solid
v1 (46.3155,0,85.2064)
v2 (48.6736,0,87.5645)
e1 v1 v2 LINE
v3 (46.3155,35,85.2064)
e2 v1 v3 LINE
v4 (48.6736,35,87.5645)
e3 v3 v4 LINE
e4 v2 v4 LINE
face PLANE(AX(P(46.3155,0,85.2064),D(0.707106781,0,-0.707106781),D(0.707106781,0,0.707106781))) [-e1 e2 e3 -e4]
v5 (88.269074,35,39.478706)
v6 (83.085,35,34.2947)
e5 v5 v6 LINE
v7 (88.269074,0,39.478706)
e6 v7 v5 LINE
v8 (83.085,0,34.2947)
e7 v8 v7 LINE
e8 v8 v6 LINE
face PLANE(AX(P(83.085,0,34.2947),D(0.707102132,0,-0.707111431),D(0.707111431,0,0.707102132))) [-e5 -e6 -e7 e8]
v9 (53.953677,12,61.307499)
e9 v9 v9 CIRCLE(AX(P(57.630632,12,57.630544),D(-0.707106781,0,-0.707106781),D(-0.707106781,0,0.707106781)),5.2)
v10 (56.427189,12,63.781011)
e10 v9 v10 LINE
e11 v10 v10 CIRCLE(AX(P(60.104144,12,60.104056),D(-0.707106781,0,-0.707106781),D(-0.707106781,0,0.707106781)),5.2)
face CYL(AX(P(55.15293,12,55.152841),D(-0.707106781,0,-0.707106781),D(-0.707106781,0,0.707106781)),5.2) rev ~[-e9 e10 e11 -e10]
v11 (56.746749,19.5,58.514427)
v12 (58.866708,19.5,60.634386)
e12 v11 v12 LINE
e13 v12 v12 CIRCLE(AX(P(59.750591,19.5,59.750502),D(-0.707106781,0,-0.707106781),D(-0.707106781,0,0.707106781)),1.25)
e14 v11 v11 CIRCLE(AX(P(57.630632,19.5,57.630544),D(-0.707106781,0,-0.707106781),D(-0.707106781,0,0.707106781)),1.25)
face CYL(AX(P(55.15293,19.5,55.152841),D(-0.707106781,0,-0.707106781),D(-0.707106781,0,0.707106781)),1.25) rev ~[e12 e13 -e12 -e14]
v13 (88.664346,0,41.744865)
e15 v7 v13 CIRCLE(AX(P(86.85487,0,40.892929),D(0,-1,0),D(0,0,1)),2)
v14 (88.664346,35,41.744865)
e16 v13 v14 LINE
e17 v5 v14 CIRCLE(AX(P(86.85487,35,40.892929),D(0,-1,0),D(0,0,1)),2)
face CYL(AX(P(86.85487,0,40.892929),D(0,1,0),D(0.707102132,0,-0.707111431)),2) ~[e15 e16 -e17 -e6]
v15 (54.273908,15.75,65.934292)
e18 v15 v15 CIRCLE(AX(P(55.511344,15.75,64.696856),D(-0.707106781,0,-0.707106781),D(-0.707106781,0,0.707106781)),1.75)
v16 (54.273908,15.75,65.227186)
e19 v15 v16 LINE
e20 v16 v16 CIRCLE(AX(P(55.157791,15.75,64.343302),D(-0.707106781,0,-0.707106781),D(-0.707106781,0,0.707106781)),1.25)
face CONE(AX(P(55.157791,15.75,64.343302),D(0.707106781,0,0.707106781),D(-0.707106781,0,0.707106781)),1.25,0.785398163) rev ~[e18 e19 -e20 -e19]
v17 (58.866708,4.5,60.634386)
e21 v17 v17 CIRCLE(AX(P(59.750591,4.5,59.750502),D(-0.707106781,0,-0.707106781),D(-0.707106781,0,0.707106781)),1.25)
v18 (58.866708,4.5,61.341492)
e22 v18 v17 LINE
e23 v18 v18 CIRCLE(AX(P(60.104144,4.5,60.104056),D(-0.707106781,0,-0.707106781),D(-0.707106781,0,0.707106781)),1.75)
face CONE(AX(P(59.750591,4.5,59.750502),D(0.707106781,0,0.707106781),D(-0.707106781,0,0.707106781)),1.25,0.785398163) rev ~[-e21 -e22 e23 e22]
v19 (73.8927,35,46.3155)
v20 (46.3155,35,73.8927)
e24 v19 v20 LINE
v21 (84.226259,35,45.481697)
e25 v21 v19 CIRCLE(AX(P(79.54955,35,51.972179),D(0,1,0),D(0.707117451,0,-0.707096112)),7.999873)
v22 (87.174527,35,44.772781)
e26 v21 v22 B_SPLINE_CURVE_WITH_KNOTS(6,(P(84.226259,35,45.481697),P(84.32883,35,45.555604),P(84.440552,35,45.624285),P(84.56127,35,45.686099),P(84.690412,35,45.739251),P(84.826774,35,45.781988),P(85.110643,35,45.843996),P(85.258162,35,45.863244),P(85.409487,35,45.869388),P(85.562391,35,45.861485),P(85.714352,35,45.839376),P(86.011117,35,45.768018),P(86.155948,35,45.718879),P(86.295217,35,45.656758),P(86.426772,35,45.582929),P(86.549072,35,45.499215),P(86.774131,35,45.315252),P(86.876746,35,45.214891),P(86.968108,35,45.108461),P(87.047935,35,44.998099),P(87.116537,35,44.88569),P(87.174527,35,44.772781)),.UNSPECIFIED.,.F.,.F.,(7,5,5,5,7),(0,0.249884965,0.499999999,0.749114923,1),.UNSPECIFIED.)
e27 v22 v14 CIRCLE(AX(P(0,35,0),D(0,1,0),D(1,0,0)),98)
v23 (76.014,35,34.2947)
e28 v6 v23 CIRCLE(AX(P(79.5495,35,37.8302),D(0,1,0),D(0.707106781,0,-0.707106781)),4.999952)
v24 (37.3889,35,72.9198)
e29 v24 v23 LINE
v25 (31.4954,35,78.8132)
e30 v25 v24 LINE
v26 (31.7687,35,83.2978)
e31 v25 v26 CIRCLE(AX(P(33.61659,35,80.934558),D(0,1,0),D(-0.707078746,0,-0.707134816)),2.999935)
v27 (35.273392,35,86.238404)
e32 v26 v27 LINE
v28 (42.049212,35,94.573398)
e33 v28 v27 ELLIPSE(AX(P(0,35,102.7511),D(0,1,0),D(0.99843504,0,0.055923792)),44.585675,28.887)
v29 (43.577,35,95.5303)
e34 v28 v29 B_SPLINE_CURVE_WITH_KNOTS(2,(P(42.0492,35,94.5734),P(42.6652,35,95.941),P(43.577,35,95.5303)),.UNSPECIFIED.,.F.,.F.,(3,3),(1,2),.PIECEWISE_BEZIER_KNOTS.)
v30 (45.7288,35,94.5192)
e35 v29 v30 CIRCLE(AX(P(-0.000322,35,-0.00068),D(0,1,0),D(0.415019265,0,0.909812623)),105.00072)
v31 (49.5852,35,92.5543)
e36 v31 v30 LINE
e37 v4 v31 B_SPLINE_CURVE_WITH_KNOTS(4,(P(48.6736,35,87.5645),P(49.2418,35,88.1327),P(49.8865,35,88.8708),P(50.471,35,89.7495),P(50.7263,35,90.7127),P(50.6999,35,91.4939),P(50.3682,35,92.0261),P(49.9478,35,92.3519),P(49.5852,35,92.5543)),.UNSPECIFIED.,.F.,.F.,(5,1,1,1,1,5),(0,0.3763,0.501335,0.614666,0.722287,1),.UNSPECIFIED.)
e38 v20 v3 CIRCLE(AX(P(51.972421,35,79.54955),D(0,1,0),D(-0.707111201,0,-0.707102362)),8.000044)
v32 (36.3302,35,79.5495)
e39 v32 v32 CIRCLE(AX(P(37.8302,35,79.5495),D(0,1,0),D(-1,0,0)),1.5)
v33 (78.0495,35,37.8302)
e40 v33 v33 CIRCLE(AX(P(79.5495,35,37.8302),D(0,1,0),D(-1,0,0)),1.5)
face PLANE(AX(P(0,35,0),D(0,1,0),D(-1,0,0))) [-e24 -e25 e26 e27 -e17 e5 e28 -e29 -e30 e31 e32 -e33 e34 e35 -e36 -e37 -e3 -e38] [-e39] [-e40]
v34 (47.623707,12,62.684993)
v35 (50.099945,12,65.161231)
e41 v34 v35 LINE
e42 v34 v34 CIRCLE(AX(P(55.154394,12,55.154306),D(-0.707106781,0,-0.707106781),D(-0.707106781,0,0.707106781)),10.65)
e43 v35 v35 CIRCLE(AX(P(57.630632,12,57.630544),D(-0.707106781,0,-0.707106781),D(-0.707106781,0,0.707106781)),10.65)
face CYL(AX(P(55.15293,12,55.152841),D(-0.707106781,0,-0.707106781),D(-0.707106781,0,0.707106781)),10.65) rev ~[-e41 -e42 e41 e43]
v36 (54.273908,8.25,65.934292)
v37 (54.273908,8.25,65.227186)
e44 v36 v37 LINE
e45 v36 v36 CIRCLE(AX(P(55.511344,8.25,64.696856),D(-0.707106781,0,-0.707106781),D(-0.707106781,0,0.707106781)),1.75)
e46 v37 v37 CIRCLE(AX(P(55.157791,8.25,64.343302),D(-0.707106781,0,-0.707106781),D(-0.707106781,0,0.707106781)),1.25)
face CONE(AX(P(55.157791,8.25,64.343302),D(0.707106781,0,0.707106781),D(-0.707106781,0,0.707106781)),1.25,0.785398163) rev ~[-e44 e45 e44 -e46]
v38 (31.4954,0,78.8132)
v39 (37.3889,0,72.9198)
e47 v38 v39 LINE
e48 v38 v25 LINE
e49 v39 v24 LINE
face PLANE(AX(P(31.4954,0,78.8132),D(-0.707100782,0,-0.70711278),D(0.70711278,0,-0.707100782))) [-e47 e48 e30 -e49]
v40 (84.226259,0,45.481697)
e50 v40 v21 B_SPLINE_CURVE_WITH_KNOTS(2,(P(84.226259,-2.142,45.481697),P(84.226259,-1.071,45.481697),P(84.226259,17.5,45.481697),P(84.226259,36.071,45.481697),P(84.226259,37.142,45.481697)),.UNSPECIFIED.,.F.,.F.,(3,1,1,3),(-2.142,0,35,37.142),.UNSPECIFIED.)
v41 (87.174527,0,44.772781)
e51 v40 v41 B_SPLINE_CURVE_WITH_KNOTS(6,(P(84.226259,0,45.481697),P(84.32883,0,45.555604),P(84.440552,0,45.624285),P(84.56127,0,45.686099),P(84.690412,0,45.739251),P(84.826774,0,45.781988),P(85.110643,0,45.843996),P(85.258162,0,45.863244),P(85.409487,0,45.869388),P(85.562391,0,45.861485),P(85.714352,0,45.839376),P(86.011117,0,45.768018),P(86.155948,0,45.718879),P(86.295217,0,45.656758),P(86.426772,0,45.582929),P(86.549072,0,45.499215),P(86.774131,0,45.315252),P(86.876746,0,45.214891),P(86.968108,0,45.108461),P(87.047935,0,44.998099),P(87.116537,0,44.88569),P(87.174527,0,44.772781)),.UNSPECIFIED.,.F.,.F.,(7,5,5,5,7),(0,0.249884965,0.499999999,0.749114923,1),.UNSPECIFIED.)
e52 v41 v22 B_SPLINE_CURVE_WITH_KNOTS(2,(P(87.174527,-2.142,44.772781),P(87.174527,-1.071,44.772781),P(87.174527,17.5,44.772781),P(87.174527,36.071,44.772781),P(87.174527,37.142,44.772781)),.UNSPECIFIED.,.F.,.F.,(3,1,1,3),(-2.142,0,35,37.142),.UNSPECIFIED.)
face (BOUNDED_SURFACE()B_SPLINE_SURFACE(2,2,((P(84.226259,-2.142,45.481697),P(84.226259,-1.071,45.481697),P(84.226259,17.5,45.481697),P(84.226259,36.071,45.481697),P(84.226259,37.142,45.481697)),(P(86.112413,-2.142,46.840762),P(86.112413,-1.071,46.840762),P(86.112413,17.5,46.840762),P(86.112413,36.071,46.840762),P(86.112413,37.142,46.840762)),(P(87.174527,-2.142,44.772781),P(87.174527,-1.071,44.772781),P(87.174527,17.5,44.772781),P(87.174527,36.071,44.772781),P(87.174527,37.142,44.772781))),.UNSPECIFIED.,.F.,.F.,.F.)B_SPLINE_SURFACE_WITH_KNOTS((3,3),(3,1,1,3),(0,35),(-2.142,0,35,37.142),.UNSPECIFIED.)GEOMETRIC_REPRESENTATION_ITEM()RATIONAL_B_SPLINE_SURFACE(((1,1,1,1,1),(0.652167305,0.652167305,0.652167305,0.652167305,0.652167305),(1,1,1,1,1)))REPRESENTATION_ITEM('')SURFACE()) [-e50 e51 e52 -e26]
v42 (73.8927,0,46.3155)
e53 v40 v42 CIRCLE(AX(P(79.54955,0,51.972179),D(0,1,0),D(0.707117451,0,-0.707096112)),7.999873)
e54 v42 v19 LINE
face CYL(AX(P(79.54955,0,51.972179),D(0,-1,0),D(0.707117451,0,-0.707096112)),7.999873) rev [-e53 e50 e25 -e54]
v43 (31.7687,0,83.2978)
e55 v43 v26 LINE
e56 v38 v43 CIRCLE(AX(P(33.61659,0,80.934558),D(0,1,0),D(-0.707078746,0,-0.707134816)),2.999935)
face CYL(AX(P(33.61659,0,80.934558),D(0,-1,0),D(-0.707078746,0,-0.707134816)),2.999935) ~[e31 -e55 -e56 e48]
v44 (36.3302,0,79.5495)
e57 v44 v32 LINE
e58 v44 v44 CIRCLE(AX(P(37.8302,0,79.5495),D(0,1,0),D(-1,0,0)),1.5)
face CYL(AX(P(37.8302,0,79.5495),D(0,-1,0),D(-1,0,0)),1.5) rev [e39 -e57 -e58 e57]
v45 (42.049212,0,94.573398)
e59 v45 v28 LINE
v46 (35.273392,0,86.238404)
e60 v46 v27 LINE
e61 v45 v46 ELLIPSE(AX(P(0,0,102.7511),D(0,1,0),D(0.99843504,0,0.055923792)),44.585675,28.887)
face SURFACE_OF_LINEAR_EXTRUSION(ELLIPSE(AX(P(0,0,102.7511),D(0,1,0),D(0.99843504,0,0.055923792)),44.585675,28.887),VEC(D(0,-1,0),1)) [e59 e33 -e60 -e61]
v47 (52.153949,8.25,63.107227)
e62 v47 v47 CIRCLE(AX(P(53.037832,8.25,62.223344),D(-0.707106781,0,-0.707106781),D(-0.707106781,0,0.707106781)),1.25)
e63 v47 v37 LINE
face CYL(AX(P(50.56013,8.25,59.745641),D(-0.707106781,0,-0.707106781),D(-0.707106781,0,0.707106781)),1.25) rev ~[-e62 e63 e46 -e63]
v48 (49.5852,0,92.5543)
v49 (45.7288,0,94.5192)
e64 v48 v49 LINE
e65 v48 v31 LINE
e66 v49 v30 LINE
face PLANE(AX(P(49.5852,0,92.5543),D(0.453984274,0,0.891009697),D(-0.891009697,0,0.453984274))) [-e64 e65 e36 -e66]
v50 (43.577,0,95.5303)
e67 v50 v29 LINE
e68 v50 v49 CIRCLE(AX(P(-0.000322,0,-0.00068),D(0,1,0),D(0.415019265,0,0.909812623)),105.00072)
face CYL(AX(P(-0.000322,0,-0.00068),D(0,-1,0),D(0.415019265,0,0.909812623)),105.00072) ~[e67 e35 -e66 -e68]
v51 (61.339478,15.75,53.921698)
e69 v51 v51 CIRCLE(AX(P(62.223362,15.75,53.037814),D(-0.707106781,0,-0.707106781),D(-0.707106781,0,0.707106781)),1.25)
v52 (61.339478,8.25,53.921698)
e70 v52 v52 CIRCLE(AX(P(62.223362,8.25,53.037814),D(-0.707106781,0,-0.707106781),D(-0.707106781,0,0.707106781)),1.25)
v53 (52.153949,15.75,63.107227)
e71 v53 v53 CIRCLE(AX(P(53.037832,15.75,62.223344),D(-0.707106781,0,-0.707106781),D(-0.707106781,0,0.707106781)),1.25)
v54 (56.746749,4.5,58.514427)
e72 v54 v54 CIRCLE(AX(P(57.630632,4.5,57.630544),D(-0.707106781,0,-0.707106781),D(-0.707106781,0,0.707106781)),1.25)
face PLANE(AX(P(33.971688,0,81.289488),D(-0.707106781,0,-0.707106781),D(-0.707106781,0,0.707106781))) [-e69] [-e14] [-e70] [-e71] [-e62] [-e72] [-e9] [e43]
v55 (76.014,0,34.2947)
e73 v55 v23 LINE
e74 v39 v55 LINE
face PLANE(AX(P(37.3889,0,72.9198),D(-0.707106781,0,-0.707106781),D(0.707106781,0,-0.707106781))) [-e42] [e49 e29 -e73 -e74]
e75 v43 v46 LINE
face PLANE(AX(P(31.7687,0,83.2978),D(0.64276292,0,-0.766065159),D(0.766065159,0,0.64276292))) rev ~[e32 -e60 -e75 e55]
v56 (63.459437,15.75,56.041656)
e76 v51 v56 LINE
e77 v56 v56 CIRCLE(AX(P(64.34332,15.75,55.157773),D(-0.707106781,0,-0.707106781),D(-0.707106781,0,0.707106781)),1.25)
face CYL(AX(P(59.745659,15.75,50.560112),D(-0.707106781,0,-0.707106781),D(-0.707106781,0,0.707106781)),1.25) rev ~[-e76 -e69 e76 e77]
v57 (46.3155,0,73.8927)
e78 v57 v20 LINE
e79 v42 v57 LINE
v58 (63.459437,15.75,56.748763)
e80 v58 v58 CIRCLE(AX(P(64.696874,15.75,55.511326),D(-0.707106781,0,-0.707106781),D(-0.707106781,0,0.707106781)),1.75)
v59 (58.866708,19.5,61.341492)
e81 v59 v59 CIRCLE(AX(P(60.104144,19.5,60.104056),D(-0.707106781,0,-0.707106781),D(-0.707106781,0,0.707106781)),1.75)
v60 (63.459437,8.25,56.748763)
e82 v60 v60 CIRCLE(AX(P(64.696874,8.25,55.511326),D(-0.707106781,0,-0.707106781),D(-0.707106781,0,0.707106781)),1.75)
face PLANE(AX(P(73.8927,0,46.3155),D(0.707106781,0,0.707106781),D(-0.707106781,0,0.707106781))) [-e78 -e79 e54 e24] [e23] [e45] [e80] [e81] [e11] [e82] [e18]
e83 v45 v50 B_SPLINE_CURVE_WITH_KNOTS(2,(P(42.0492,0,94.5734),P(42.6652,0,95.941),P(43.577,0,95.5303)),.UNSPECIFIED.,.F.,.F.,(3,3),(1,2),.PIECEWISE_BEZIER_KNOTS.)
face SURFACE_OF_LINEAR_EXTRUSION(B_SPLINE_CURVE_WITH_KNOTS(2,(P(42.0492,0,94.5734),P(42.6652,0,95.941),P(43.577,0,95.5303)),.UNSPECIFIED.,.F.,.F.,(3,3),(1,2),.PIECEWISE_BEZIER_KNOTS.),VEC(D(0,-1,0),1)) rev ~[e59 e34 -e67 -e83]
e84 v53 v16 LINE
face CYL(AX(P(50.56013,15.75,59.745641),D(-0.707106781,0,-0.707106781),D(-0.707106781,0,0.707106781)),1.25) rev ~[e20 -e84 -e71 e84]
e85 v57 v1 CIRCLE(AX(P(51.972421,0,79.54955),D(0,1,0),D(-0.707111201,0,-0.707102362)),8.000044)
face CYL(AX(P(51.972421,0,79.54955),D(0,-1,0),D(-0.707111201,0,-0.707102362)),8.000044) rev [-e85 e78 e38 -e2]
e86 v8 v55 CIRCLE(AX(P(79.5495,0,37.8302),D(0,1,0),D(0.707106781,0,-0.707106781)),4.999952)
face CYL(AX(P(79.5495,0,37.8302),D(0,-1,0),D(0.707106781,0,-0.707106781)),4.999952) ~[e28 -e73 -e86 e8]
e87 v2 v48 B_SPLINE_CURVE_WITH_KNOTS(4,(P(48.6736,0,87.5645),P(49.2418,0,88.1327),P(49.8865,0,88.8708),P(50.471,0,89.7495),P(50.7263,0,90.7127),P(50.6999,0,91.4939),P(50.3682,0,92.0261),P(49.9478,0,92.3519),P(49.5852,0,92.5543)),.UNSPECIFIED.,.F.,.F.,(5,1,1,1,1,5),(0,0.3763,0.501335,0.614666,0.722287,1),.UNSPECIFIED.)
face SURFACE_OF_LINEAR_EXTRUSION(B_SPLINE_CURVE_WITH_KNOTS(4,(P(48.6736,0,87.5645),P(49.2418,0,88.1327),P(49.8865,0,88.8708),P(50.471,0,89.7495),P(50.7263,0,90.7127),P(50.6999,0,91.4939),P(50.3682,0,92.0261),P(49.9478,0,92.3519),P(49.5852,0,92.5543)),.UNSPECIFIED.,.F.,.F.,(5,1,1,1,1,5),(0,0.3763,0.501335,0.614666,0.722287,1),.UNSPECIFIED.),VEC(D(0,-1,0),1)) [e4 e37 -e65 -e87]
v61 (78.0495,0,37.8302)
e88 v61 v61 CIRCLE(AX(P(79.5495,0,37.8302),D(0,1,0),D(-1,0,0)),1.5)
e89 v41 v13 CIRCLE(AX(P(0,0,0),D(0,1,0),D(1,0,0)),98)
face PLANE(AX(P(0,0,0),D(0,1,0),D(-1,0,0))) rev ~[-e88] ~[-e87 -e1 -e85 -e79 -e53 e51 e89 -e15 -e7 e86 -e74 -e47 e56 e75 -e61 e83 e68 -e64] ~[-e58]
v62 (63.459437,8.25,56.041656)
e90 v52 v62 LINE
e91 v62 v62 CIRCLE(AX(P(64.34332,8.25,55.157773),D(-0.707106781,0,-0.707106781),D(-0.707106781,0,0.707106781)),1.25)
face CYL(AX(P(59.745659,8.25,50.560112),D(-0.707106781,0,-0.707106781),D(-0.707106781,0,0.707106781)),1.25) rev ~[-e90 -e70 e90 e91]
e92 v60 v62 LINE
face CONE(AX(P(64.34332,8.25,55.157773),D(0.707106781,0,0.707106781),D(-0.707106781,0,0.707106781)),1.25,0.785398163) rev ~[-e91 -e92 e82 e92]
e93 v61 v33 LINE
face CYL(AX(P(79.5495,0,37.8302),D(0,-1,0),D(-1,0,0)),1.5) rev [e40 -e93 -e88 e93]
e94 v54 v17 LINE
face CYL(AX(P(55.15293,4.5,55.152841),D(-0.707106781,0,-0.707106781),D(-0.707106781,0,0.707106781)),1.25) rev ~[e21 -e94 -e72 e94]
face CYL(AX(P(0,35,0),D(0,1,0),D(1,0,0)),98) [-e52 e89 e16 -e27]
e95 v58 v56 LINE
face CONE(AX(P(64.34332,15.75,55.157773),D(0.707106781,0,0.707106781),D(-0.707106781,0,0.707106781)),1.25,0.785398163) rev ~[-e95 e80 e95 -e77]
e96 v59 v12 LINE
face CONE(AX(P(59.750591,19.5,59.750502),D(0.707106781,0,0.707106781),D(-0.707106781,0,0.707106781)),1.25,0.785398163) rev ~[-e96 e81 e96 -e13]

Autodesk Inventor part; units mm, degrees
ref_plane "YZ Plane" through (0, 0, 0) normal (1, 0, 0) x (0, 1, 0)
ref_plane "XZ Plane" through (0, 0, 0) normal (0, 1, 0) x (-1, 0, 0)
ref_plane "XY Plane" through (0, 0, 0) normal (0, 0, 1) x (1, 0, 0)
sketch "Эскиз1" plane through (0, 0, 0) normal (0, 1, 0) x (-1, 0, 0)
  line L0 (34.2947, -76.014) -> (76.014, -34.2947)
  arc A0 (83.085, -34.2947) -> (76.014, -34.2947) centre (79.5495, -37.8302) ccw
  line L1 (83.085, -34.2947) -> (87.156, -38.3657)
  line L2 (46.3155, -73.8927) -> (73.8927, -46.3155)
  arc A1 (85.2064, -46.3155) -> (73.8927, -46.3155) centre (79.5495, -51.9723) ccw
  line L3 (85.2064, -46.3155) -> (87.5645, -48.6736)
  line L4 (92.5543, -49.5852) -> (94.5192, -45.7288)
  line L5 (87.156, -38.3657) -> (94.5192, -45.7288)
  line L6 (34.2947, -83.085) -> (38.3657, -87.156)
  arc A2 (34.2947, -76.014) -> (34.2947, -83.085) centre (37.8302, -79.5495) ccw
  arc A3 (46.3155, -73.8927) -> (46.3155, -85.2064) centre (51.9723, -79.5495) ccw
  line L7 (48.6736, -87.5645) -> (46.3155, -85.2064)
  line L8 (48.7014, -93.0224) -> (45.7288, -94.5192)
  line L9 (38.3657, -87.156) -> (45.7288, -94.5192)
  spline S0 degree 4 poles (87.5645, -48.6736) (88.1327, -49.2418) (88.8708, -49.8865) (89.7495, -50.471) (90.7127, -50.7263) (91.4939, -50.6999) (92.0261, -50.3682) (92.3519, -49.9478) (92.5543, -49.5852) knots 0 0 0 0 0 0.3763 0.501335 0.614666 0.722287 1 1 1 1 1
  spline S1 degree 4 poles (48.6736, -87.5645) (49.2196, -88.1111) (49.8318, -88.8375) (50.3553, -89.7359) (50.492, -90.7638) (50.3179, -91.6771) (49.7988, -92.3195) (49.2087, -92.7429) (48.7014, -93.0224) knots 0 0 0 0 0 0.349502 0.469309 0.582088 0.694155 1 1 1 1 1
  line L10 (-34.2947, -83.085) -> (-38.3657, -87.156)
  arc A4 (-34.2947, -83.085) -> (-34.2947, -76.014) centre (-37.8302, -79.5495) ccw
  line L11 (-34.2947, -76.014) -> (-76.014, -34.2947)
  arc A5 (-76.014, -34.2947) -> (-83.085, -34.2947) centre (-79.5495, -37.8302) ccw
  line L12 (-83.085, -34.2947) -> (-87.156, -38.3657)
  spline S2 degree 4 poles (-87.5645, -48.6736) (-88.2874, -48.92) (-89.2024, -49.1688) (-90.211, -49.3633) (-91.1746, -49.4987) (-91.8001, -49.5729) (-92.1944, -49.6036) (-92.4378, -49.611) (-92.5543, -49.5852) knots 0 0 0 0 0 0.417996 0.557878 0.680942 0.788351 1 1 1 1 1
  line L13 (-85.2064, -46.3155) -> (-87.5645, -48.6736)
  arc A6 (-73.8927, -46.3155) -> (-85.2064, -46.3155) centre (-79.5495, -51.9723) ccw
  line L14 (-46.3155, -73.8927) -> (-73.8927, -46.3155)
  arc A7 (-46.3155, -85.2064) -> (-46.3155, -73.8927) centre (-51.9723, -79.5495) ccw
  spline S3 degree 4 poles (-48.6736, -87.5645) (-49.2196, -88.1111) (-49.8318, -88.8375) (-50.3553, -89.7359) (-50.492, -90.7638) (-50.3179, -91.6771) (-49.7988, -92.3195) (-49.2087, -92.7429) (-48.7014, -93.0224) knots 0 0 0 0 0 0.349502 0.469309 0.582088 0.694155 1 1 1 1 1
  line L15 (-48.6736, -87.5645) -> (-46.3155, -85.2064)
  arc A8 (-92.5543, 49.5852) -> (-92.5543, -49.5852) centre (0, 0) ccw construction
  arc A9 (-48.7014, -93.0224) -> (48.7014, -93.0224) centre (0, 0) ccw construction
  line L16 (-38.3657, -87.156) -> (-45.7288, -94.5192)
  line L17 (-87.156, -38.3657) -> (-94.5192, -45.7288)
  line L18 (-92.5543, -49.5852) -> (-94.5192, -45.7288)
  line L19 (-48.7014, -93.0224) -> (-45.7288, -94.5192)
  line L20 (0, 0) -> (0, 95.3237) construction
  line L21 (34.2947, -76.014) -> (76.014, -34.2947)
  arc A10 (83.085, -34.2947) -> (76.014, -34.2947) centre (79.5495, -37.8302) ccw
  line L22 (83.085, -34.2947) -> (87.156, -38.3657)
  line L23 (46.3155, -73.8927) -> (73.8927, -46.3155)
  arc A11 (85.2064, -46.3155) -> (73.8927, -46.3155) centre (79.5495, -51.9723) ccw
  line L24 (85.2064, -46.3155) -> (87.5645, -48.6736)
  line L25 (92.5543, -49.5852) -> (94.5192, -45.7288)
  arc A12 (92.5543, -49.5852) -> (92.5543, 49.5852) centre (0, 0) ccw construction
  line L26 (87.156, -38.3657) -> (94.5192, -45.7288)
  line L27 (34.2947, -83.085) -> (38.3657, -87.156)
  arc A13 (34.2947, -76.014) -> (34.2947, -83.085) centre (37.8302, -79.5495) ccw
  arc A14 (46.3155, -73.8927) -> (46.3155, -85.2064) centre (51.9723, -79.5495) ccw
  line L28 (48.6736, -87.5645) -> (46.3155, -85.2064)
  line L29 (48.7014, -93.0224) -> (45.7288, -94.5192)
  line L30 (38.3657, -87.156) -> (45.7288, -94.5192)
  arc A15 (-48.7014, -93.0224) -> (48.7014, -93.0224) centre (0, 0) ccw construction
  spline S4 degree 4 poles (87.5645, -48.6736) (88.1327, -49.2418) (88.8708, -49.8865) (89.7495, -50.471) (90.7127, -50.7263) (91.4939, -50.6999) (92.0261, -50.3682) (92.3519, -49.9478) (92.5543, -49.5852) knots 0 0 0 0 0 0.3763 0.501335 0.614666 0.722287 1 1 1 1 1
  spline S5 degree 4 poles (48.6736, -87.5645) (49.2196, -88.1111) (49.8318, -88.8375) (50.3553, -89.7359) (50.492, -90.7638) (50.3179, -91.6771) (49.7988, -92.3195) (49.2087, -92.7429) (48.7014, -93.0224) knots 0 0 0 0 0 0.349502 0.469309 0.582088 0.694155 1 1 1 1 1
  line L31 (52.2091, 91.1) -> (48.6736, 87.5645) construction
  line L32 (52.2091, 91.1) -> (48.6736, 87.5645) construction
  line L33 (48.6736, 87.5645) -> (52.2091, 91.1) construction
  spline S6 degree 2 poles (48.6736, 87.5645) (52.2091, 91.1) (48.7014, 93.0224) knots 1 1 1 2 2 2 construction
  line L34 (52.2091, 91.1) -> (48.7014, 93.0224) construction
  line L35 (91.1, 52.2091) -> (52.2091, 91.1) construction
  arc A16 (92.5543, 49.5852) -> (48.7014, 93.0224) centre (0, 0) ccw construction
  line L36 (44.1942, 76.014) -> (76.014, 44.1942) construction
  line L37 (0, 56.6418) -> (-35.5516, 86.4744) construction
  arc A17 (0, 67.941) -> (23.7825, 76.5969) centre (0, 104.941) ccw construction
  arc A18 (-23.7825, 76.5969) -> (0, 67.941) centre (0, 104.941) ccw construction
  line L38 (-23.7825, 76.5969) -> (-35.2734, 86.2384) construction
  line L39 (0, 104.941) -> (-23.6028, 54.3247) construction
  arc A19 (-28.0199, 71.0163) -> (5.5413, 61.2914) centre (0, 104.941) ccw construction
  arc A20 (5.5413, 61.2914) -> (28.0199, 71.0163) centre (0, 104.941) ccw construction
  arc A21 (-30.6393, 73.2144) -> (-37.3889, 72.9198) centre (-33.8534, 69.3842) ccw construction
  line L40 (0, 56.6418) -> (23.7825, 76.5969) construction
  line L41 (23.7825, 76.5969) -> (35.2734, 86.2384) construction
  line L42 (0, 0) -> (74.2462, 74.2462) construction
  line L43 (42.6652, 95.941) -> (42.0492, 94.5734) construction
  line L44 (42.0492, 94.5734) -> (42.6652, 95.941) construction
  spline S7 degree 2 poles (42.0492, 94.5734) (42.6652, 95.941) (43.577, 95.5303) knots 1 1 1 2 2 2 construction
  line L45 (42.6652, 95.941) -> (43.577, 95.5303) construction
  arc A22 (-44.1942, 76.014) -> (-44.1942, 83.085) centre (-47.7297, 79.5495) ccw construction
  arc A23 (92.5543, -49.5852) -> (92.5543, 49.5852) centre (0, 0) ccw construction
  circle A24 centre (0, 0) radius 35 construction
  spline S8 degree 2 poles (-48.6736, 87.5645) (-52.2091, 91.1) (-48.7014, 93.0224) knots 1 1 1 2 2 2 construction
  line L46 (-48.6736, 87.5645) -> (-52.2091, 91.1) construction
  line L47 (-52.2091, 91.1) -> (-48.7014, 93.0224) construction
  arc A25 (-83.085, 44.1942) -> (-76.014, 44.1942) centre (-79.5495, 47.7297) ccw construction
  line L48 (-83.085, 44.1942) -> (-85.2064, 46.3155) construction
  line L49 (-44.1942, 76.014) -> (-46.3155, 73.8927) construction
  arc A26 (-48.7014, 93.0224) -> (-92.5543, 49.5852) centre (0, 0) ccw construction
  line L50 (-42.6652, 95.941) -> (-42.0492, 94.5734) construction
  arc A27 (-43.577, 95.5303) -> (-48.7014, 93.0224) centre (0, 0) ccw
  ellipse E0 centre (0, 102.7511) end of major axis (-44.5159, 105.2445) minor radius 28.887 (-42.0492, 94.5734) -> (-35.2734, 86.2384) ccw
  line L51 (-42.0492, 94.5734) -> (-42.6652, 95.941) construction
  spline S9 degree 2 poles (-42.0492, 94.5734) (-42.6652, 95.941) (-43.577, 95.5303) knots 1 1 1 2 2 2 construction
  line L52 (-42.6652, 95.941) -> (-43.577, 95.5303) construction
  line L53 (-42.0492, 94.5734) -> (-42.6652, 95.941) construction
  spline S10 degree 2 poles (-42.0492, 94.5734) (-42.6652, 95.941) (-43.577, 95.5303) knots 1 1 1 2 2 2
  line L54 (-42.6652, 95.941) -> (-43.577, 95.5303) construction
  line L55 (-42.6652, 95.941) -> (-43.577, 95.5303) construction
  line L56 (-44.1942, 83.085) -> (-48.6736, 87.5645) construction
  line L57 (-37.3889, 72.9198) -> (-76.014, 34.2947)
  arc A28 (-83.085, 34.2947) -> (-76.014, 34.2947) centre (-79.5495, 37.8302) ccw
  line L58 (-83.085, 34.2947) -> (-90.6891, 41.8987)
  arc A29 (-87.3563, 48.4654) -> (-90.6891, 41.8987) centre (0, 0) ccw construction
  line L59 (-93.5297, 47.6709) -> (-92.5543, 49.5852) construction
  arc A30 (85.2064, -46.3155) -> (73.8927, -46.3155) centre (79.5495, -51.9723) ccw construction
  line L60 (85.2064, -46.3155) -> (87.5645, -48.6736) construction
  spline S11 degree 2 poles (87.5645, -48.6736) (91.1, -52.2091) (92.5543, -49.5852) knots 1 1 1 2 2 2 construction
  line L61 (87.5645, -48.6736) -> (91.1, -52.2091) construction
  line L62 (91.1, -52.2091) -> (92.5543, -49.5852) construction
  line L63 (46.3155, -73.8927) -> (73.8927, -46.3155) construction
  line L64 (48.6736, -87.5645) -> (46.3155, -85.2064) construction
  line L65 (48.6736, -87.5645) -> (52.2091, -91.1) construction
  spline S12 degree 2 poles (48.6736, -87.5645) (52.2091, -91.1) (48.7014, -93.0224) knots 1 1 1 2 2 2 construction
  line L66 (52.2091, -91.1) -> (48.7014, -93.0224) construction
  arc A31 (46.3155, -73.8927) -> (46.3155, -85.2064) centre (51.9723, -79.5495) ccw construction
  arc A32 (48.7014, -93.0224) -> (92.5543, -49.5852) centre (0, 0) ccw construction
  arc A33 (-48.7014, -93.0224) -> (48.7014, -93.0224) centre (0, 0) ccw construction
  arc A34 (-90.6891, 41.8987) -> (-87.3563, 48.4654) centre (0, 0) ccw construction
  line L67 (42.6652, 95.941) -> (-42.6652, 95.941) construction
  line L68 (-48.6736, -87.5645) -> (-52.2091, -91.1) construction
  spline S13 degree 2 poles (-48.6736, -87.5645) (-52.2091, -91.1) (-48.7014, -93.0224) knots 1 1 1 2 2 2 construction
  line L69 (-52.2091, -91.1) -> (-48.7014, -93.0224) construction
  line L70 (-91.1, -52.2091) -> (-92.5543, -49.5852) construction
  spline S14 degree 2 poles (-87.5645, -48.6736) (-91.1, -52.2091) (-92.5543, -49.5852) knots 1 1 1 2 2 2 construction
  line L71 (-87.5645, -48.6736) -> (-91.1, -52.2091) construction
  arc A35 (-92.5543, -49.5852) -> (-48.7014, -93.0224) centre (0, 0) ccw construction
  line L72 (-48.6736, -87.5645) -> (-46.3155, -85.2064) construction
  arc A36 (-73.8927, -46.3155) -> (-85.2064, -46.3155) centre (-79.5495, -51.9723) ccw construction
  line L73 (-85.2064, -46.3155) -> (-87.5645, -48.6736) construction
  line L74 (-46.3155, -73.8927) -> (-73.8927, -46.3155) construction
  arc A37 (-46.3155, -85.2064) -> (-46.3155, -73.8927) centre (-51.9723, -79.5495) ccw construction
  arc A38 (-92.5543, 49.5852) -> (-92.5543, -49.5852) centre (0, 0) ccw construction
  arc A39 (44.1942, 83.085) -> (44.1942, 76.014) centre (47.7297, 79.5495) ccw construction
  arc A40 (44.0271, 95.3237) -> (43.577, 95.5303) centre (0, 0) ccw construction
  line L75 (42.6652, 95.941) -> (43.577, 95.5303) construction
  arc A41 (48.7014, 93.0224) -> (44.0271, 95.3237) centre (0, 0) ccw construction
  line L76 (52.2091, 91.1) -> (48.7014, 93.0224) construction
  line L77 (83.085, 44.1942) -> (87.5645, 48.6736) construction
  ellipse E1 centre (0, 102.7511) end of major axis (44.5159, 105.2445) minor radius 28.887 (35.2734, 86.2384) -> (42.0492, 94.5734) ccw construction
  arc A42 (76.014, 44.1942) -> (83.085, 44.1942) centre (79.5495, 47.7297) ccw construction
  line L78 (0, 0) -> (0, 209.8821) construction
  arc A43 (43.577, 95.5303) -> (-43.577, 95.5303) centre (0, 0) ccw construction
  arc A44 (23.7825, 76.5969) -> (0, 67.941) centre (0, 104.941) ccw construction
  line L79 (44.0271, 95.3237) -> (44.0271, 127.8162) construction
  ellipse E2 centre (0, 102.7511) end of major axis (44.0271, 102.7511) minor radius 27.5932 (42.0492, 94.5734) -> (35.2734, 86.2384) ccw construction
  line L80 (-30.6393, 73.2144) -> (-28.0199, 71.0163) construction
  arc A45 (28.0199, 71.0163) -> (-28.0199, 71.0163) centre (0, 104.941) ccw construction
  line L81 (30.6393, 73.2144) -> (28.0199, 71.0163) construction
  arc A46 (37.3889, 72.9198) -> (30.6393, 73.2144) centre (33.8534, 69.3842) ccw construction
  line L82 (44.0271, 95.3237) -> (43.577, 95.5303) construction
  arc A47 (44.1942, 83.085) -> (44.1942, 76.014) centre (47.7297, 79.5495) ccw construction
  line L83 (48.6736, 87.5645) -> (44.1942, 83.085) construction
  line L84 (37.3889, 72.9198) -> (76.014, 34.2947) construction
  line L85 (44.1942, 76.014) -> (76.014, 44.1942) construction
  arc A48 (76.014, 44.1942) -> (83.085, 44.1942) centre (79.5495, 47.7297) ccw construction
  arc A49 (76.014, 34.2947) -> (83.085, 34.2947) centre (79.5495, 37.8302) ccw construction
  line L86 (83.085, 44.1942) -> (87.3563, 48.4654) construction
  line L87 (83.085, 34.2947) -> (90.6891, 41.8987) construction
  arc A50 (90.6891, 41.8987) -> (87.3563, 48.4654) centre (0, 0) ccw construction
  arc A51 (-83.085, 34.2947) -> (-76.014, 34.2947) centre (-79.5495, 37.8302) ccw
  line L88 (-87.156, 38.3657) -> (-94.5192, 45.7288)
  line L89 (-93.0224, 48.7014) -> (-94.5192, 45.7288)
  arc A52 (-85.2064, 46.3155) -> (-73.8927, 46.3155) centre (-79.5495, 51.9723) ccw
  line L90 (-87.5645, 48.6736) -> (-85.2064, 46.3155)
  line L91 (-83.085, 34.2947) -> (-87.156, 38.3657)
  line L92 (-73.8927, 46.3155) -> (-46.3155, 73.8927)
  spline S15 degree 4 poles (-87.5645, 48.6736) (-88.1111, 49.2196) (-88.8375, 49.8318) (-89.7359, 50.3553) (-90.7638, 50.492) (-91.6771, 50.3179) (-92.3195, 49.7988) (-92.7429, 49.2087) (-93.0224, 48.7014) knots 0 0 0 0 0 0.349502 0.469309 0.582088 0.694155 1 1 1 1 1
  arc A53 (-34.2947, 76.014) -> (-34.2947, 83.085) centre (-37.8302, 79.5495) ccw construction
  line L93 (-34.2947, 83.085) -> (-38.3657, 87.156) construction
  arc A54 (-46.3155, 73.8927) -> (-46.3155, 85.2064) centre (-51.9723, 79.5495) ccw
  line L94 (-46.3155, 85.2064) -> (-48.6736, 87.5645)
  spline S16 degree 4 poles (-48.6736, 87.5645) (-49.2418, 88.1327) (-49.8865, 88.8708) (-50.471, 89.7495) (-50.7263, 90.7127) (-50.6999, 91.4939) (-50.3682, 92.0261) (-49.9478, 92.3519) (-49.5852, 92.5543) knots 0 0 0 0 0 0.3763 0.501335 0.614666 0.722287 1 1 1 1 1
  line L95 (-49.5852, 92.5543) -> (-45.7288, 94.5192)
  line L96 (-38.3657, 87.156) -> (-45.7288, 94.5192) construction
  arc A55 (-34.2947, 76.014) -> (-34.2947, 83.085) centre (-37.8302, 79.5495) ccw construction
  line L97 (-34.2947, 83.085) -> (-38.3657, 87.156) construction
  arc A56 (-46.3155, 73.8927) -> (-46.3155, 85.2064) centre (-51.9723, 79.5495) ccw
  line L98 (-46.3155, 85.2064) -> (-48.6736, 87.5645)
  spline S17 degree 4 poles (-48.6736, 87.5645) (-49.2418, 88.1327) (-49.8865, 88.8708) (-50.471, 89.7495) (-50.7263, 90.7127) (-50.6999, 91.4939) (-50.3682, 92.0261) (-49.9478, 92.3519) (-49.5852, 92.5543) knots 0 0 0 0 0 0.3763 0.501335 0.614666 0.722287 1 1 1 1 1
  line L99 (-49.5852, 92.5543) -> (-45.7288, 94.5192)
  line L100 (-38.3657, 87.156) -> (-45.7288, 94.5192) construction
  arc A57 (-83.085, 34.2947) -> (-76.014, 34.2947) centre (-79.5495, 37.8302) ccw
  line L101 (-83.085, 34.2947) -> (-87.156, 38.3657)
  line L102 (-87.156, 38.3657) -> (-94.5192, 45.7288)
  line L103 (-93.0224, 48.7014) -> (-94.5192, 45.7288)
  spline S18 degree 4 poles (-87.5645, 48.6736) (-88.1111, 49.2196) (-88.8375, 49.8318) (-89.7359, 50.3553) (-90.7638, 50.492) (-91.6771, 50.3179) (-92.3195, 49.7988) (-92.7429, 49.2087) (-93.0224, 48.7014) knots 0 0 0 0 0 0.349502 0.469309 0.582088 0.694155 1 1 1 1 1
  arc A58 (-85.2064, 46.3155) -> (-73.8927, 46.3155) centre (-79.5495, 51.9723) ccw
  line L104 (-76.014, 34.2947) -> (-34.2947, 76.014) construction
  line L105 (-73.8927, 46.3155) -> (-46.3155, 73.8927)
  line L106 (-87.5645, 48.6736) -> (-85.2064, 46.3155)
  line L107 (-87.5645, 48.6736) -> (-91.1, 52.2091) construction
  spline S19 degree 2 poles (-87.5645, 48.6736) (-91.1, 52.2091) (-93.0224, 48.7014) knots 1 1 1 2 2 2 construction
  line L108 (-91.1, 52.2091) -> (-93.0224, 48.7014) construction
  line L109 (-48.6736, 87.5645) -> (-52.2091, 91.1) construction
  spline S20 degree 2 poles (-48.6736, 87.5645) (-52.2091, 91.1) (-49.5852, 92.5543) knots 1 1 1 2 2 2 construction
  line L110 (-52.2091, 91.1) -> (-49.5852, 92.5543) construction
  arc A59 (-49.5852, 92.5543) -> (-93.0224, 48.7014) centre (0, 0) ccw construction
  arc A60 (-46.3155, 73.8927) -> (-46.3155, 85.2064) centre (-51.9723, 79.5495) ccw construction
  line L111 (-46.3155, 85.2064) -> (-48.6736, 87.5645) construction
  line L112 (-73.8927, 46.3155) -> (-46.3155, 73.8927) construction
  arc A61 (-85.2064, 46.3155) -> (-73.8927, 46.3155) centre (-79.5495, 51.9723) ccw construction
  line L113 (-87.5645, 48.6736) -> (-85.2064, 46.3155) construction
  line L114 (-60.1041, 60.1041) -> (-55.1543, 55.1543) construction
  circle A62 centre (-79.5495, 37.8302) radius 1.5
  circle A63 centre (-37.8302, 79.5495) radius 1.5
  arc A64 (-34.995, 78.2699) -> (-31.4954, 78.8132) centre (-33.6167, 80.9346) ccw construction
  arc A65 (-36.5845, 80.4956) -> (-34.995, 78.2699) centre (-33.6167, 80.9346) ccw construction
  arc A66 (-31.7687, 83.2978) -> (-36.5845, 80.4956) centre (-33.6167, 80.9346) ccw construction
  arc A67 (-31.4954, 78.8132) -> (-31.7687, 83.2978) centre (-33.6167, 80.9346) ccw
  line L115 (-31.4954, 78.8132) -> (-29.1816, 81.127) construction
  line L116 (-46.3155, 73.8927) -> (-73.8927, 46.3155)
  line L117 (-73.8927, 46.3155) -> (-76.014, 44.1942) construction
  line L118 (-85.2064, 46.3155) -> (-87.3563, 48.4654)
  line L119 (-31.7687, 83.2978) -> (-35.2734, 86.2384)
  line L120 (99.9, 0) -> (-99.9, 0) construction
  line L121 (-31.4954, 78.8132) -> (-37.3889, 72.9198)
  point P0 (49.5385, -88.5397)
  point P1 (50.0866, -89.3893)
  point P2 (50.374, -90.1304)
  point P3 (50.4468, -90.7861)
  point P4 (50.3313, -91.3833)
  point P5 (50.0252, -91.9468)
  point P6 (49.4982, -92.4922)
  point P7 (88.5759, -49.5937)
  point P8 (89.4338, -50.2024)
  point P9 (90.1559, -50.5529)
  point P10 (90.7644, -50.6948)
  point P11 (91.2858, -50.6665)
  point P12 (91.7467, -50.4838)
  point P13 (92.1672, -50.1352)
  point P14 (-49.5385, -88.5397)
  point P15 (-50.0866, -89.3893)
  point P16 (-50.374, -90.1304)
  point P17 (-50.4468, -90.7861)
  point P18 (-50.3313, -91.3833)
  point P19 (-50.0252, -91.9468)
  point P20 (-49.4982, -92.4922)
  point P21 (-88.8035, -49.0449)
  point P22 (-89.8171, -49.2759)
  point P23 (-90.6238, -49.4176)
  point P24 (-91.2517, -49.506)
  point P25 (-91.7347, -49.5616)
  point P26 (-92.1038, -49.5932)
  point P27 (-92.3767, -49.6023)
  point P28 (88.5759, -49.5937)
  point P29 (89.4338, -50.2024)
  point P30 (90.1559, -50.5529)
  point P31 (90.7644, -50.6948)
  point P32 (91.2858, -50.6665)
  point P33 (91.7467, -50.4838)
  point P34 (92.1672, -50.1352)
  point P35 (49.5385, -88.5397)
  point P36 (50.0866, -89.3893)
  point P37 (50.374, -90.1304)
  point P38 (50.4468, -90.7861)
  point P39 (50.3313, -91.3833)
  point P40 (50.0252, -91.9468)
  point P41 (49.4982, -92.4922)
  point P42 (79.5495, 40.6586)
  point P43 (40.6586, 79.5495)
  point P44 (60.1041, 60.1041)
  point P45 (-23.542, 76.3968)
  point P46 (-34.9935, 86.0061)
  point P47 (0, 95.941)
  point P48 (-15.6369, 71.4076)
  point P49 (-13.2817, 58.6489)
  point P50 (-28.5452, 71.4571)
  point P51 (13.2817, 58.6489)
  point P52 (-87.5645, 48.6736)
  point P53 (0, 105)
  point P54 (-94.5192, 45.7288)
  point P55 (0, 95.941)
  point P56 (-88.5397, 49.5385)
  point P57 (-89.3893, 50.0866)
  point P58 (-90.1304, 50.374)
  point P59 (-90.7861, 50.4468)
  point P60 (-91.3833, 50.3313)
  point P61 (-91.9468, 50.0252)
  point P62 (-92.4922, 49.4982)
  point P63 (-49.5937, 88.5759)
  point P64 (-50.2024, 89.4338)
  point P65 (-50.5529, 90.1559)
  point P66 (-50.6948, 90.7644)
  point P67 (-50.6665, 91.2858)
  point P68 (-50.4838, 91.7467)
  point P69 (-50.1352, 92.1672)
  point P70 (-49.5937, 88.5759)
  point P71 (-50.2024, 89.4338)
  point P72 (-50.5529, 90.1559)
  point P73 (-50.6948, 90.7644)
  point P74 (-50.6665, 91.2858)
  point P75 (-50.4838, 91.7467)
  point P76 (-50.1352, 92.1672)
  point P77 (-88.5397, 49.5385)
  point P78 (-89.3893, 50.0866)
  point P79 (-90.1304, 50.374)
  point P80 (-90.7861, 50.4468)
  point P81 (-91.3833, 50.3313)
  point P82 (-91.9468, 50.0252)
  point P83 (-92.4922, 49.4982)
  dimension "d63" = 44.5856
  dimension "d44" = 74
  dimension "d45" = 100
  dimension "d46" = 28
  dimension "d47" = 15
  dimension "d48" = 45
  dimension "d49" = 55
  dimension "d50" = 16.3348
  dimension "d51" = 27.5
  dimension "d52" = 5
  dimension "d53" = 5
  dimension "d54" = 1
  dimension "d55" = 1.5
  dimension "d56" = 1.5
  dimension "d57" = 1
  dimension "d58" = 4
  dimension "d59" = 70
  dimension "d60" = 85
  dimension "d61" = 105
  dimension "d62" = 1.3619
  dimension "d64" = 88
  dimension "d65" = 7
  dimension "d66" = 5
  dimension "d67" = 7
  dimension "d68" = 5
  dimension "d69" = 7
  dimension "d70" = 5
  dimension "d71" = 5.1
  dimension "d72" = 3
  dimension "d73" = 6
extrude "Выдавливание10" add sketch "Эскиз1" along normal blind 35 contours S10 E0 L119 A67 L121 L57 A28 L58 L88 L89 S15 L90 A52 L92 A54 L94 S16 L95 A27
sketch "Эскиз6" plane through (31.4954, 0, 78.8132) normal (-0.7071, 0, -0.7071) x (-0.7071, 0, 0.7071)
  line L0 (-5.4588, 35) -> (-2.4588, 35) construction
  line L1 (-64.4588, 35) -> (-61.4588, 35) construction
  line L2 (-61.4588, 0) -> (-64.4588, 0) construction
  line L3 (-5.8588, 0) -> (-2.0588, 0) construction
  line L4 (-62.9588, 0) -> (-67.9588, 0) construction
  line L5 (-62.9588, 35) -> (-62.9588, 0) construction
  line L6 (-62.9588, 35) -> (0, 35) construction
  line L7 (-121.9588, 35) -> (-121.9588, 0) construction
  line L8 (-62.9588, 0) -> (0, 0) construction
  circle A0 centre (-33.4588, 12) radius 10.65
  circle A1 centre (-33.4588, 12) radius 7.5 construction
  circle A2 centre (-33.4588, 12) radius 5.2
  circle A3 centre (-33.4588, 19.5) radius 1.25
  line L9 (-33.4588, 12) -> (-33.4588, 35) construction
  line L10 (-13.9588, 35) -> (-52.9588, 35) construction
  circle A4 centre (-39.9539, 15.75) radius 1.25
  circle A5 centre (-39.9539, 8.25) radius 1.25
  circle A6 centre (-33.4588, 4.5) radius 1.25
  circle A7 centre (-26.9636, 8.25) radius 1.25
  circle A8 centre (-26.9636, 15.75) radius 1.25
  point P0 (-33.4588, 0)
  dimension "d82" = 15
  dimension "d80" = 59
  dimension "d81" = 21.3
  dimension "d83" = 10.4
  dimension "d84" = 2.5
  dimension "d87" = 360
  dimension "d96" = 12
extrude "Выдавливание13" cut sketch "Эскиз6" against normal mid plane 33.5 contours A2 | A3 | A4 | A5 | A6 | A7 | A8
extrude "Выдавливание14" cut sketch "Эскиз6" against normal blind 3.5
chamfer "Фаска3" distance 0.5 angle 45 6 edges at (60.988, 19.5, 59.2202) (65.5808, 15.75, 54.6274) (65.5808, 8.25, 54.6274) (60.988, 4.5, 59.2202) (56.3952, 8.25, 63.813) (56.3952, 15.75, 63.813)
sketch "Эскиз7" plane through (0, 35, 0) normal (0, 1, 0) x (1, 0, 0)
  circle A0 centre (0, 0) radius 98
  line L0 (83.394, -51.4727) -> (105.1705, -56.0334)
  line L1 (105.1705, -56.0334) -> (91.253, -35.7336)
  dimension "d97" = 196
extrude "Выдавливание15" cut sketch "Эскиз7" against normal blind 41.5 contours A0 L1 L0
fillet "Сопряжение1" radius 2 2 edges at (85.9577, 17.5, 47.0668) (89.2556, 17.5, 40.4652)
properties part number "_3DПЕЧАТЬ"
